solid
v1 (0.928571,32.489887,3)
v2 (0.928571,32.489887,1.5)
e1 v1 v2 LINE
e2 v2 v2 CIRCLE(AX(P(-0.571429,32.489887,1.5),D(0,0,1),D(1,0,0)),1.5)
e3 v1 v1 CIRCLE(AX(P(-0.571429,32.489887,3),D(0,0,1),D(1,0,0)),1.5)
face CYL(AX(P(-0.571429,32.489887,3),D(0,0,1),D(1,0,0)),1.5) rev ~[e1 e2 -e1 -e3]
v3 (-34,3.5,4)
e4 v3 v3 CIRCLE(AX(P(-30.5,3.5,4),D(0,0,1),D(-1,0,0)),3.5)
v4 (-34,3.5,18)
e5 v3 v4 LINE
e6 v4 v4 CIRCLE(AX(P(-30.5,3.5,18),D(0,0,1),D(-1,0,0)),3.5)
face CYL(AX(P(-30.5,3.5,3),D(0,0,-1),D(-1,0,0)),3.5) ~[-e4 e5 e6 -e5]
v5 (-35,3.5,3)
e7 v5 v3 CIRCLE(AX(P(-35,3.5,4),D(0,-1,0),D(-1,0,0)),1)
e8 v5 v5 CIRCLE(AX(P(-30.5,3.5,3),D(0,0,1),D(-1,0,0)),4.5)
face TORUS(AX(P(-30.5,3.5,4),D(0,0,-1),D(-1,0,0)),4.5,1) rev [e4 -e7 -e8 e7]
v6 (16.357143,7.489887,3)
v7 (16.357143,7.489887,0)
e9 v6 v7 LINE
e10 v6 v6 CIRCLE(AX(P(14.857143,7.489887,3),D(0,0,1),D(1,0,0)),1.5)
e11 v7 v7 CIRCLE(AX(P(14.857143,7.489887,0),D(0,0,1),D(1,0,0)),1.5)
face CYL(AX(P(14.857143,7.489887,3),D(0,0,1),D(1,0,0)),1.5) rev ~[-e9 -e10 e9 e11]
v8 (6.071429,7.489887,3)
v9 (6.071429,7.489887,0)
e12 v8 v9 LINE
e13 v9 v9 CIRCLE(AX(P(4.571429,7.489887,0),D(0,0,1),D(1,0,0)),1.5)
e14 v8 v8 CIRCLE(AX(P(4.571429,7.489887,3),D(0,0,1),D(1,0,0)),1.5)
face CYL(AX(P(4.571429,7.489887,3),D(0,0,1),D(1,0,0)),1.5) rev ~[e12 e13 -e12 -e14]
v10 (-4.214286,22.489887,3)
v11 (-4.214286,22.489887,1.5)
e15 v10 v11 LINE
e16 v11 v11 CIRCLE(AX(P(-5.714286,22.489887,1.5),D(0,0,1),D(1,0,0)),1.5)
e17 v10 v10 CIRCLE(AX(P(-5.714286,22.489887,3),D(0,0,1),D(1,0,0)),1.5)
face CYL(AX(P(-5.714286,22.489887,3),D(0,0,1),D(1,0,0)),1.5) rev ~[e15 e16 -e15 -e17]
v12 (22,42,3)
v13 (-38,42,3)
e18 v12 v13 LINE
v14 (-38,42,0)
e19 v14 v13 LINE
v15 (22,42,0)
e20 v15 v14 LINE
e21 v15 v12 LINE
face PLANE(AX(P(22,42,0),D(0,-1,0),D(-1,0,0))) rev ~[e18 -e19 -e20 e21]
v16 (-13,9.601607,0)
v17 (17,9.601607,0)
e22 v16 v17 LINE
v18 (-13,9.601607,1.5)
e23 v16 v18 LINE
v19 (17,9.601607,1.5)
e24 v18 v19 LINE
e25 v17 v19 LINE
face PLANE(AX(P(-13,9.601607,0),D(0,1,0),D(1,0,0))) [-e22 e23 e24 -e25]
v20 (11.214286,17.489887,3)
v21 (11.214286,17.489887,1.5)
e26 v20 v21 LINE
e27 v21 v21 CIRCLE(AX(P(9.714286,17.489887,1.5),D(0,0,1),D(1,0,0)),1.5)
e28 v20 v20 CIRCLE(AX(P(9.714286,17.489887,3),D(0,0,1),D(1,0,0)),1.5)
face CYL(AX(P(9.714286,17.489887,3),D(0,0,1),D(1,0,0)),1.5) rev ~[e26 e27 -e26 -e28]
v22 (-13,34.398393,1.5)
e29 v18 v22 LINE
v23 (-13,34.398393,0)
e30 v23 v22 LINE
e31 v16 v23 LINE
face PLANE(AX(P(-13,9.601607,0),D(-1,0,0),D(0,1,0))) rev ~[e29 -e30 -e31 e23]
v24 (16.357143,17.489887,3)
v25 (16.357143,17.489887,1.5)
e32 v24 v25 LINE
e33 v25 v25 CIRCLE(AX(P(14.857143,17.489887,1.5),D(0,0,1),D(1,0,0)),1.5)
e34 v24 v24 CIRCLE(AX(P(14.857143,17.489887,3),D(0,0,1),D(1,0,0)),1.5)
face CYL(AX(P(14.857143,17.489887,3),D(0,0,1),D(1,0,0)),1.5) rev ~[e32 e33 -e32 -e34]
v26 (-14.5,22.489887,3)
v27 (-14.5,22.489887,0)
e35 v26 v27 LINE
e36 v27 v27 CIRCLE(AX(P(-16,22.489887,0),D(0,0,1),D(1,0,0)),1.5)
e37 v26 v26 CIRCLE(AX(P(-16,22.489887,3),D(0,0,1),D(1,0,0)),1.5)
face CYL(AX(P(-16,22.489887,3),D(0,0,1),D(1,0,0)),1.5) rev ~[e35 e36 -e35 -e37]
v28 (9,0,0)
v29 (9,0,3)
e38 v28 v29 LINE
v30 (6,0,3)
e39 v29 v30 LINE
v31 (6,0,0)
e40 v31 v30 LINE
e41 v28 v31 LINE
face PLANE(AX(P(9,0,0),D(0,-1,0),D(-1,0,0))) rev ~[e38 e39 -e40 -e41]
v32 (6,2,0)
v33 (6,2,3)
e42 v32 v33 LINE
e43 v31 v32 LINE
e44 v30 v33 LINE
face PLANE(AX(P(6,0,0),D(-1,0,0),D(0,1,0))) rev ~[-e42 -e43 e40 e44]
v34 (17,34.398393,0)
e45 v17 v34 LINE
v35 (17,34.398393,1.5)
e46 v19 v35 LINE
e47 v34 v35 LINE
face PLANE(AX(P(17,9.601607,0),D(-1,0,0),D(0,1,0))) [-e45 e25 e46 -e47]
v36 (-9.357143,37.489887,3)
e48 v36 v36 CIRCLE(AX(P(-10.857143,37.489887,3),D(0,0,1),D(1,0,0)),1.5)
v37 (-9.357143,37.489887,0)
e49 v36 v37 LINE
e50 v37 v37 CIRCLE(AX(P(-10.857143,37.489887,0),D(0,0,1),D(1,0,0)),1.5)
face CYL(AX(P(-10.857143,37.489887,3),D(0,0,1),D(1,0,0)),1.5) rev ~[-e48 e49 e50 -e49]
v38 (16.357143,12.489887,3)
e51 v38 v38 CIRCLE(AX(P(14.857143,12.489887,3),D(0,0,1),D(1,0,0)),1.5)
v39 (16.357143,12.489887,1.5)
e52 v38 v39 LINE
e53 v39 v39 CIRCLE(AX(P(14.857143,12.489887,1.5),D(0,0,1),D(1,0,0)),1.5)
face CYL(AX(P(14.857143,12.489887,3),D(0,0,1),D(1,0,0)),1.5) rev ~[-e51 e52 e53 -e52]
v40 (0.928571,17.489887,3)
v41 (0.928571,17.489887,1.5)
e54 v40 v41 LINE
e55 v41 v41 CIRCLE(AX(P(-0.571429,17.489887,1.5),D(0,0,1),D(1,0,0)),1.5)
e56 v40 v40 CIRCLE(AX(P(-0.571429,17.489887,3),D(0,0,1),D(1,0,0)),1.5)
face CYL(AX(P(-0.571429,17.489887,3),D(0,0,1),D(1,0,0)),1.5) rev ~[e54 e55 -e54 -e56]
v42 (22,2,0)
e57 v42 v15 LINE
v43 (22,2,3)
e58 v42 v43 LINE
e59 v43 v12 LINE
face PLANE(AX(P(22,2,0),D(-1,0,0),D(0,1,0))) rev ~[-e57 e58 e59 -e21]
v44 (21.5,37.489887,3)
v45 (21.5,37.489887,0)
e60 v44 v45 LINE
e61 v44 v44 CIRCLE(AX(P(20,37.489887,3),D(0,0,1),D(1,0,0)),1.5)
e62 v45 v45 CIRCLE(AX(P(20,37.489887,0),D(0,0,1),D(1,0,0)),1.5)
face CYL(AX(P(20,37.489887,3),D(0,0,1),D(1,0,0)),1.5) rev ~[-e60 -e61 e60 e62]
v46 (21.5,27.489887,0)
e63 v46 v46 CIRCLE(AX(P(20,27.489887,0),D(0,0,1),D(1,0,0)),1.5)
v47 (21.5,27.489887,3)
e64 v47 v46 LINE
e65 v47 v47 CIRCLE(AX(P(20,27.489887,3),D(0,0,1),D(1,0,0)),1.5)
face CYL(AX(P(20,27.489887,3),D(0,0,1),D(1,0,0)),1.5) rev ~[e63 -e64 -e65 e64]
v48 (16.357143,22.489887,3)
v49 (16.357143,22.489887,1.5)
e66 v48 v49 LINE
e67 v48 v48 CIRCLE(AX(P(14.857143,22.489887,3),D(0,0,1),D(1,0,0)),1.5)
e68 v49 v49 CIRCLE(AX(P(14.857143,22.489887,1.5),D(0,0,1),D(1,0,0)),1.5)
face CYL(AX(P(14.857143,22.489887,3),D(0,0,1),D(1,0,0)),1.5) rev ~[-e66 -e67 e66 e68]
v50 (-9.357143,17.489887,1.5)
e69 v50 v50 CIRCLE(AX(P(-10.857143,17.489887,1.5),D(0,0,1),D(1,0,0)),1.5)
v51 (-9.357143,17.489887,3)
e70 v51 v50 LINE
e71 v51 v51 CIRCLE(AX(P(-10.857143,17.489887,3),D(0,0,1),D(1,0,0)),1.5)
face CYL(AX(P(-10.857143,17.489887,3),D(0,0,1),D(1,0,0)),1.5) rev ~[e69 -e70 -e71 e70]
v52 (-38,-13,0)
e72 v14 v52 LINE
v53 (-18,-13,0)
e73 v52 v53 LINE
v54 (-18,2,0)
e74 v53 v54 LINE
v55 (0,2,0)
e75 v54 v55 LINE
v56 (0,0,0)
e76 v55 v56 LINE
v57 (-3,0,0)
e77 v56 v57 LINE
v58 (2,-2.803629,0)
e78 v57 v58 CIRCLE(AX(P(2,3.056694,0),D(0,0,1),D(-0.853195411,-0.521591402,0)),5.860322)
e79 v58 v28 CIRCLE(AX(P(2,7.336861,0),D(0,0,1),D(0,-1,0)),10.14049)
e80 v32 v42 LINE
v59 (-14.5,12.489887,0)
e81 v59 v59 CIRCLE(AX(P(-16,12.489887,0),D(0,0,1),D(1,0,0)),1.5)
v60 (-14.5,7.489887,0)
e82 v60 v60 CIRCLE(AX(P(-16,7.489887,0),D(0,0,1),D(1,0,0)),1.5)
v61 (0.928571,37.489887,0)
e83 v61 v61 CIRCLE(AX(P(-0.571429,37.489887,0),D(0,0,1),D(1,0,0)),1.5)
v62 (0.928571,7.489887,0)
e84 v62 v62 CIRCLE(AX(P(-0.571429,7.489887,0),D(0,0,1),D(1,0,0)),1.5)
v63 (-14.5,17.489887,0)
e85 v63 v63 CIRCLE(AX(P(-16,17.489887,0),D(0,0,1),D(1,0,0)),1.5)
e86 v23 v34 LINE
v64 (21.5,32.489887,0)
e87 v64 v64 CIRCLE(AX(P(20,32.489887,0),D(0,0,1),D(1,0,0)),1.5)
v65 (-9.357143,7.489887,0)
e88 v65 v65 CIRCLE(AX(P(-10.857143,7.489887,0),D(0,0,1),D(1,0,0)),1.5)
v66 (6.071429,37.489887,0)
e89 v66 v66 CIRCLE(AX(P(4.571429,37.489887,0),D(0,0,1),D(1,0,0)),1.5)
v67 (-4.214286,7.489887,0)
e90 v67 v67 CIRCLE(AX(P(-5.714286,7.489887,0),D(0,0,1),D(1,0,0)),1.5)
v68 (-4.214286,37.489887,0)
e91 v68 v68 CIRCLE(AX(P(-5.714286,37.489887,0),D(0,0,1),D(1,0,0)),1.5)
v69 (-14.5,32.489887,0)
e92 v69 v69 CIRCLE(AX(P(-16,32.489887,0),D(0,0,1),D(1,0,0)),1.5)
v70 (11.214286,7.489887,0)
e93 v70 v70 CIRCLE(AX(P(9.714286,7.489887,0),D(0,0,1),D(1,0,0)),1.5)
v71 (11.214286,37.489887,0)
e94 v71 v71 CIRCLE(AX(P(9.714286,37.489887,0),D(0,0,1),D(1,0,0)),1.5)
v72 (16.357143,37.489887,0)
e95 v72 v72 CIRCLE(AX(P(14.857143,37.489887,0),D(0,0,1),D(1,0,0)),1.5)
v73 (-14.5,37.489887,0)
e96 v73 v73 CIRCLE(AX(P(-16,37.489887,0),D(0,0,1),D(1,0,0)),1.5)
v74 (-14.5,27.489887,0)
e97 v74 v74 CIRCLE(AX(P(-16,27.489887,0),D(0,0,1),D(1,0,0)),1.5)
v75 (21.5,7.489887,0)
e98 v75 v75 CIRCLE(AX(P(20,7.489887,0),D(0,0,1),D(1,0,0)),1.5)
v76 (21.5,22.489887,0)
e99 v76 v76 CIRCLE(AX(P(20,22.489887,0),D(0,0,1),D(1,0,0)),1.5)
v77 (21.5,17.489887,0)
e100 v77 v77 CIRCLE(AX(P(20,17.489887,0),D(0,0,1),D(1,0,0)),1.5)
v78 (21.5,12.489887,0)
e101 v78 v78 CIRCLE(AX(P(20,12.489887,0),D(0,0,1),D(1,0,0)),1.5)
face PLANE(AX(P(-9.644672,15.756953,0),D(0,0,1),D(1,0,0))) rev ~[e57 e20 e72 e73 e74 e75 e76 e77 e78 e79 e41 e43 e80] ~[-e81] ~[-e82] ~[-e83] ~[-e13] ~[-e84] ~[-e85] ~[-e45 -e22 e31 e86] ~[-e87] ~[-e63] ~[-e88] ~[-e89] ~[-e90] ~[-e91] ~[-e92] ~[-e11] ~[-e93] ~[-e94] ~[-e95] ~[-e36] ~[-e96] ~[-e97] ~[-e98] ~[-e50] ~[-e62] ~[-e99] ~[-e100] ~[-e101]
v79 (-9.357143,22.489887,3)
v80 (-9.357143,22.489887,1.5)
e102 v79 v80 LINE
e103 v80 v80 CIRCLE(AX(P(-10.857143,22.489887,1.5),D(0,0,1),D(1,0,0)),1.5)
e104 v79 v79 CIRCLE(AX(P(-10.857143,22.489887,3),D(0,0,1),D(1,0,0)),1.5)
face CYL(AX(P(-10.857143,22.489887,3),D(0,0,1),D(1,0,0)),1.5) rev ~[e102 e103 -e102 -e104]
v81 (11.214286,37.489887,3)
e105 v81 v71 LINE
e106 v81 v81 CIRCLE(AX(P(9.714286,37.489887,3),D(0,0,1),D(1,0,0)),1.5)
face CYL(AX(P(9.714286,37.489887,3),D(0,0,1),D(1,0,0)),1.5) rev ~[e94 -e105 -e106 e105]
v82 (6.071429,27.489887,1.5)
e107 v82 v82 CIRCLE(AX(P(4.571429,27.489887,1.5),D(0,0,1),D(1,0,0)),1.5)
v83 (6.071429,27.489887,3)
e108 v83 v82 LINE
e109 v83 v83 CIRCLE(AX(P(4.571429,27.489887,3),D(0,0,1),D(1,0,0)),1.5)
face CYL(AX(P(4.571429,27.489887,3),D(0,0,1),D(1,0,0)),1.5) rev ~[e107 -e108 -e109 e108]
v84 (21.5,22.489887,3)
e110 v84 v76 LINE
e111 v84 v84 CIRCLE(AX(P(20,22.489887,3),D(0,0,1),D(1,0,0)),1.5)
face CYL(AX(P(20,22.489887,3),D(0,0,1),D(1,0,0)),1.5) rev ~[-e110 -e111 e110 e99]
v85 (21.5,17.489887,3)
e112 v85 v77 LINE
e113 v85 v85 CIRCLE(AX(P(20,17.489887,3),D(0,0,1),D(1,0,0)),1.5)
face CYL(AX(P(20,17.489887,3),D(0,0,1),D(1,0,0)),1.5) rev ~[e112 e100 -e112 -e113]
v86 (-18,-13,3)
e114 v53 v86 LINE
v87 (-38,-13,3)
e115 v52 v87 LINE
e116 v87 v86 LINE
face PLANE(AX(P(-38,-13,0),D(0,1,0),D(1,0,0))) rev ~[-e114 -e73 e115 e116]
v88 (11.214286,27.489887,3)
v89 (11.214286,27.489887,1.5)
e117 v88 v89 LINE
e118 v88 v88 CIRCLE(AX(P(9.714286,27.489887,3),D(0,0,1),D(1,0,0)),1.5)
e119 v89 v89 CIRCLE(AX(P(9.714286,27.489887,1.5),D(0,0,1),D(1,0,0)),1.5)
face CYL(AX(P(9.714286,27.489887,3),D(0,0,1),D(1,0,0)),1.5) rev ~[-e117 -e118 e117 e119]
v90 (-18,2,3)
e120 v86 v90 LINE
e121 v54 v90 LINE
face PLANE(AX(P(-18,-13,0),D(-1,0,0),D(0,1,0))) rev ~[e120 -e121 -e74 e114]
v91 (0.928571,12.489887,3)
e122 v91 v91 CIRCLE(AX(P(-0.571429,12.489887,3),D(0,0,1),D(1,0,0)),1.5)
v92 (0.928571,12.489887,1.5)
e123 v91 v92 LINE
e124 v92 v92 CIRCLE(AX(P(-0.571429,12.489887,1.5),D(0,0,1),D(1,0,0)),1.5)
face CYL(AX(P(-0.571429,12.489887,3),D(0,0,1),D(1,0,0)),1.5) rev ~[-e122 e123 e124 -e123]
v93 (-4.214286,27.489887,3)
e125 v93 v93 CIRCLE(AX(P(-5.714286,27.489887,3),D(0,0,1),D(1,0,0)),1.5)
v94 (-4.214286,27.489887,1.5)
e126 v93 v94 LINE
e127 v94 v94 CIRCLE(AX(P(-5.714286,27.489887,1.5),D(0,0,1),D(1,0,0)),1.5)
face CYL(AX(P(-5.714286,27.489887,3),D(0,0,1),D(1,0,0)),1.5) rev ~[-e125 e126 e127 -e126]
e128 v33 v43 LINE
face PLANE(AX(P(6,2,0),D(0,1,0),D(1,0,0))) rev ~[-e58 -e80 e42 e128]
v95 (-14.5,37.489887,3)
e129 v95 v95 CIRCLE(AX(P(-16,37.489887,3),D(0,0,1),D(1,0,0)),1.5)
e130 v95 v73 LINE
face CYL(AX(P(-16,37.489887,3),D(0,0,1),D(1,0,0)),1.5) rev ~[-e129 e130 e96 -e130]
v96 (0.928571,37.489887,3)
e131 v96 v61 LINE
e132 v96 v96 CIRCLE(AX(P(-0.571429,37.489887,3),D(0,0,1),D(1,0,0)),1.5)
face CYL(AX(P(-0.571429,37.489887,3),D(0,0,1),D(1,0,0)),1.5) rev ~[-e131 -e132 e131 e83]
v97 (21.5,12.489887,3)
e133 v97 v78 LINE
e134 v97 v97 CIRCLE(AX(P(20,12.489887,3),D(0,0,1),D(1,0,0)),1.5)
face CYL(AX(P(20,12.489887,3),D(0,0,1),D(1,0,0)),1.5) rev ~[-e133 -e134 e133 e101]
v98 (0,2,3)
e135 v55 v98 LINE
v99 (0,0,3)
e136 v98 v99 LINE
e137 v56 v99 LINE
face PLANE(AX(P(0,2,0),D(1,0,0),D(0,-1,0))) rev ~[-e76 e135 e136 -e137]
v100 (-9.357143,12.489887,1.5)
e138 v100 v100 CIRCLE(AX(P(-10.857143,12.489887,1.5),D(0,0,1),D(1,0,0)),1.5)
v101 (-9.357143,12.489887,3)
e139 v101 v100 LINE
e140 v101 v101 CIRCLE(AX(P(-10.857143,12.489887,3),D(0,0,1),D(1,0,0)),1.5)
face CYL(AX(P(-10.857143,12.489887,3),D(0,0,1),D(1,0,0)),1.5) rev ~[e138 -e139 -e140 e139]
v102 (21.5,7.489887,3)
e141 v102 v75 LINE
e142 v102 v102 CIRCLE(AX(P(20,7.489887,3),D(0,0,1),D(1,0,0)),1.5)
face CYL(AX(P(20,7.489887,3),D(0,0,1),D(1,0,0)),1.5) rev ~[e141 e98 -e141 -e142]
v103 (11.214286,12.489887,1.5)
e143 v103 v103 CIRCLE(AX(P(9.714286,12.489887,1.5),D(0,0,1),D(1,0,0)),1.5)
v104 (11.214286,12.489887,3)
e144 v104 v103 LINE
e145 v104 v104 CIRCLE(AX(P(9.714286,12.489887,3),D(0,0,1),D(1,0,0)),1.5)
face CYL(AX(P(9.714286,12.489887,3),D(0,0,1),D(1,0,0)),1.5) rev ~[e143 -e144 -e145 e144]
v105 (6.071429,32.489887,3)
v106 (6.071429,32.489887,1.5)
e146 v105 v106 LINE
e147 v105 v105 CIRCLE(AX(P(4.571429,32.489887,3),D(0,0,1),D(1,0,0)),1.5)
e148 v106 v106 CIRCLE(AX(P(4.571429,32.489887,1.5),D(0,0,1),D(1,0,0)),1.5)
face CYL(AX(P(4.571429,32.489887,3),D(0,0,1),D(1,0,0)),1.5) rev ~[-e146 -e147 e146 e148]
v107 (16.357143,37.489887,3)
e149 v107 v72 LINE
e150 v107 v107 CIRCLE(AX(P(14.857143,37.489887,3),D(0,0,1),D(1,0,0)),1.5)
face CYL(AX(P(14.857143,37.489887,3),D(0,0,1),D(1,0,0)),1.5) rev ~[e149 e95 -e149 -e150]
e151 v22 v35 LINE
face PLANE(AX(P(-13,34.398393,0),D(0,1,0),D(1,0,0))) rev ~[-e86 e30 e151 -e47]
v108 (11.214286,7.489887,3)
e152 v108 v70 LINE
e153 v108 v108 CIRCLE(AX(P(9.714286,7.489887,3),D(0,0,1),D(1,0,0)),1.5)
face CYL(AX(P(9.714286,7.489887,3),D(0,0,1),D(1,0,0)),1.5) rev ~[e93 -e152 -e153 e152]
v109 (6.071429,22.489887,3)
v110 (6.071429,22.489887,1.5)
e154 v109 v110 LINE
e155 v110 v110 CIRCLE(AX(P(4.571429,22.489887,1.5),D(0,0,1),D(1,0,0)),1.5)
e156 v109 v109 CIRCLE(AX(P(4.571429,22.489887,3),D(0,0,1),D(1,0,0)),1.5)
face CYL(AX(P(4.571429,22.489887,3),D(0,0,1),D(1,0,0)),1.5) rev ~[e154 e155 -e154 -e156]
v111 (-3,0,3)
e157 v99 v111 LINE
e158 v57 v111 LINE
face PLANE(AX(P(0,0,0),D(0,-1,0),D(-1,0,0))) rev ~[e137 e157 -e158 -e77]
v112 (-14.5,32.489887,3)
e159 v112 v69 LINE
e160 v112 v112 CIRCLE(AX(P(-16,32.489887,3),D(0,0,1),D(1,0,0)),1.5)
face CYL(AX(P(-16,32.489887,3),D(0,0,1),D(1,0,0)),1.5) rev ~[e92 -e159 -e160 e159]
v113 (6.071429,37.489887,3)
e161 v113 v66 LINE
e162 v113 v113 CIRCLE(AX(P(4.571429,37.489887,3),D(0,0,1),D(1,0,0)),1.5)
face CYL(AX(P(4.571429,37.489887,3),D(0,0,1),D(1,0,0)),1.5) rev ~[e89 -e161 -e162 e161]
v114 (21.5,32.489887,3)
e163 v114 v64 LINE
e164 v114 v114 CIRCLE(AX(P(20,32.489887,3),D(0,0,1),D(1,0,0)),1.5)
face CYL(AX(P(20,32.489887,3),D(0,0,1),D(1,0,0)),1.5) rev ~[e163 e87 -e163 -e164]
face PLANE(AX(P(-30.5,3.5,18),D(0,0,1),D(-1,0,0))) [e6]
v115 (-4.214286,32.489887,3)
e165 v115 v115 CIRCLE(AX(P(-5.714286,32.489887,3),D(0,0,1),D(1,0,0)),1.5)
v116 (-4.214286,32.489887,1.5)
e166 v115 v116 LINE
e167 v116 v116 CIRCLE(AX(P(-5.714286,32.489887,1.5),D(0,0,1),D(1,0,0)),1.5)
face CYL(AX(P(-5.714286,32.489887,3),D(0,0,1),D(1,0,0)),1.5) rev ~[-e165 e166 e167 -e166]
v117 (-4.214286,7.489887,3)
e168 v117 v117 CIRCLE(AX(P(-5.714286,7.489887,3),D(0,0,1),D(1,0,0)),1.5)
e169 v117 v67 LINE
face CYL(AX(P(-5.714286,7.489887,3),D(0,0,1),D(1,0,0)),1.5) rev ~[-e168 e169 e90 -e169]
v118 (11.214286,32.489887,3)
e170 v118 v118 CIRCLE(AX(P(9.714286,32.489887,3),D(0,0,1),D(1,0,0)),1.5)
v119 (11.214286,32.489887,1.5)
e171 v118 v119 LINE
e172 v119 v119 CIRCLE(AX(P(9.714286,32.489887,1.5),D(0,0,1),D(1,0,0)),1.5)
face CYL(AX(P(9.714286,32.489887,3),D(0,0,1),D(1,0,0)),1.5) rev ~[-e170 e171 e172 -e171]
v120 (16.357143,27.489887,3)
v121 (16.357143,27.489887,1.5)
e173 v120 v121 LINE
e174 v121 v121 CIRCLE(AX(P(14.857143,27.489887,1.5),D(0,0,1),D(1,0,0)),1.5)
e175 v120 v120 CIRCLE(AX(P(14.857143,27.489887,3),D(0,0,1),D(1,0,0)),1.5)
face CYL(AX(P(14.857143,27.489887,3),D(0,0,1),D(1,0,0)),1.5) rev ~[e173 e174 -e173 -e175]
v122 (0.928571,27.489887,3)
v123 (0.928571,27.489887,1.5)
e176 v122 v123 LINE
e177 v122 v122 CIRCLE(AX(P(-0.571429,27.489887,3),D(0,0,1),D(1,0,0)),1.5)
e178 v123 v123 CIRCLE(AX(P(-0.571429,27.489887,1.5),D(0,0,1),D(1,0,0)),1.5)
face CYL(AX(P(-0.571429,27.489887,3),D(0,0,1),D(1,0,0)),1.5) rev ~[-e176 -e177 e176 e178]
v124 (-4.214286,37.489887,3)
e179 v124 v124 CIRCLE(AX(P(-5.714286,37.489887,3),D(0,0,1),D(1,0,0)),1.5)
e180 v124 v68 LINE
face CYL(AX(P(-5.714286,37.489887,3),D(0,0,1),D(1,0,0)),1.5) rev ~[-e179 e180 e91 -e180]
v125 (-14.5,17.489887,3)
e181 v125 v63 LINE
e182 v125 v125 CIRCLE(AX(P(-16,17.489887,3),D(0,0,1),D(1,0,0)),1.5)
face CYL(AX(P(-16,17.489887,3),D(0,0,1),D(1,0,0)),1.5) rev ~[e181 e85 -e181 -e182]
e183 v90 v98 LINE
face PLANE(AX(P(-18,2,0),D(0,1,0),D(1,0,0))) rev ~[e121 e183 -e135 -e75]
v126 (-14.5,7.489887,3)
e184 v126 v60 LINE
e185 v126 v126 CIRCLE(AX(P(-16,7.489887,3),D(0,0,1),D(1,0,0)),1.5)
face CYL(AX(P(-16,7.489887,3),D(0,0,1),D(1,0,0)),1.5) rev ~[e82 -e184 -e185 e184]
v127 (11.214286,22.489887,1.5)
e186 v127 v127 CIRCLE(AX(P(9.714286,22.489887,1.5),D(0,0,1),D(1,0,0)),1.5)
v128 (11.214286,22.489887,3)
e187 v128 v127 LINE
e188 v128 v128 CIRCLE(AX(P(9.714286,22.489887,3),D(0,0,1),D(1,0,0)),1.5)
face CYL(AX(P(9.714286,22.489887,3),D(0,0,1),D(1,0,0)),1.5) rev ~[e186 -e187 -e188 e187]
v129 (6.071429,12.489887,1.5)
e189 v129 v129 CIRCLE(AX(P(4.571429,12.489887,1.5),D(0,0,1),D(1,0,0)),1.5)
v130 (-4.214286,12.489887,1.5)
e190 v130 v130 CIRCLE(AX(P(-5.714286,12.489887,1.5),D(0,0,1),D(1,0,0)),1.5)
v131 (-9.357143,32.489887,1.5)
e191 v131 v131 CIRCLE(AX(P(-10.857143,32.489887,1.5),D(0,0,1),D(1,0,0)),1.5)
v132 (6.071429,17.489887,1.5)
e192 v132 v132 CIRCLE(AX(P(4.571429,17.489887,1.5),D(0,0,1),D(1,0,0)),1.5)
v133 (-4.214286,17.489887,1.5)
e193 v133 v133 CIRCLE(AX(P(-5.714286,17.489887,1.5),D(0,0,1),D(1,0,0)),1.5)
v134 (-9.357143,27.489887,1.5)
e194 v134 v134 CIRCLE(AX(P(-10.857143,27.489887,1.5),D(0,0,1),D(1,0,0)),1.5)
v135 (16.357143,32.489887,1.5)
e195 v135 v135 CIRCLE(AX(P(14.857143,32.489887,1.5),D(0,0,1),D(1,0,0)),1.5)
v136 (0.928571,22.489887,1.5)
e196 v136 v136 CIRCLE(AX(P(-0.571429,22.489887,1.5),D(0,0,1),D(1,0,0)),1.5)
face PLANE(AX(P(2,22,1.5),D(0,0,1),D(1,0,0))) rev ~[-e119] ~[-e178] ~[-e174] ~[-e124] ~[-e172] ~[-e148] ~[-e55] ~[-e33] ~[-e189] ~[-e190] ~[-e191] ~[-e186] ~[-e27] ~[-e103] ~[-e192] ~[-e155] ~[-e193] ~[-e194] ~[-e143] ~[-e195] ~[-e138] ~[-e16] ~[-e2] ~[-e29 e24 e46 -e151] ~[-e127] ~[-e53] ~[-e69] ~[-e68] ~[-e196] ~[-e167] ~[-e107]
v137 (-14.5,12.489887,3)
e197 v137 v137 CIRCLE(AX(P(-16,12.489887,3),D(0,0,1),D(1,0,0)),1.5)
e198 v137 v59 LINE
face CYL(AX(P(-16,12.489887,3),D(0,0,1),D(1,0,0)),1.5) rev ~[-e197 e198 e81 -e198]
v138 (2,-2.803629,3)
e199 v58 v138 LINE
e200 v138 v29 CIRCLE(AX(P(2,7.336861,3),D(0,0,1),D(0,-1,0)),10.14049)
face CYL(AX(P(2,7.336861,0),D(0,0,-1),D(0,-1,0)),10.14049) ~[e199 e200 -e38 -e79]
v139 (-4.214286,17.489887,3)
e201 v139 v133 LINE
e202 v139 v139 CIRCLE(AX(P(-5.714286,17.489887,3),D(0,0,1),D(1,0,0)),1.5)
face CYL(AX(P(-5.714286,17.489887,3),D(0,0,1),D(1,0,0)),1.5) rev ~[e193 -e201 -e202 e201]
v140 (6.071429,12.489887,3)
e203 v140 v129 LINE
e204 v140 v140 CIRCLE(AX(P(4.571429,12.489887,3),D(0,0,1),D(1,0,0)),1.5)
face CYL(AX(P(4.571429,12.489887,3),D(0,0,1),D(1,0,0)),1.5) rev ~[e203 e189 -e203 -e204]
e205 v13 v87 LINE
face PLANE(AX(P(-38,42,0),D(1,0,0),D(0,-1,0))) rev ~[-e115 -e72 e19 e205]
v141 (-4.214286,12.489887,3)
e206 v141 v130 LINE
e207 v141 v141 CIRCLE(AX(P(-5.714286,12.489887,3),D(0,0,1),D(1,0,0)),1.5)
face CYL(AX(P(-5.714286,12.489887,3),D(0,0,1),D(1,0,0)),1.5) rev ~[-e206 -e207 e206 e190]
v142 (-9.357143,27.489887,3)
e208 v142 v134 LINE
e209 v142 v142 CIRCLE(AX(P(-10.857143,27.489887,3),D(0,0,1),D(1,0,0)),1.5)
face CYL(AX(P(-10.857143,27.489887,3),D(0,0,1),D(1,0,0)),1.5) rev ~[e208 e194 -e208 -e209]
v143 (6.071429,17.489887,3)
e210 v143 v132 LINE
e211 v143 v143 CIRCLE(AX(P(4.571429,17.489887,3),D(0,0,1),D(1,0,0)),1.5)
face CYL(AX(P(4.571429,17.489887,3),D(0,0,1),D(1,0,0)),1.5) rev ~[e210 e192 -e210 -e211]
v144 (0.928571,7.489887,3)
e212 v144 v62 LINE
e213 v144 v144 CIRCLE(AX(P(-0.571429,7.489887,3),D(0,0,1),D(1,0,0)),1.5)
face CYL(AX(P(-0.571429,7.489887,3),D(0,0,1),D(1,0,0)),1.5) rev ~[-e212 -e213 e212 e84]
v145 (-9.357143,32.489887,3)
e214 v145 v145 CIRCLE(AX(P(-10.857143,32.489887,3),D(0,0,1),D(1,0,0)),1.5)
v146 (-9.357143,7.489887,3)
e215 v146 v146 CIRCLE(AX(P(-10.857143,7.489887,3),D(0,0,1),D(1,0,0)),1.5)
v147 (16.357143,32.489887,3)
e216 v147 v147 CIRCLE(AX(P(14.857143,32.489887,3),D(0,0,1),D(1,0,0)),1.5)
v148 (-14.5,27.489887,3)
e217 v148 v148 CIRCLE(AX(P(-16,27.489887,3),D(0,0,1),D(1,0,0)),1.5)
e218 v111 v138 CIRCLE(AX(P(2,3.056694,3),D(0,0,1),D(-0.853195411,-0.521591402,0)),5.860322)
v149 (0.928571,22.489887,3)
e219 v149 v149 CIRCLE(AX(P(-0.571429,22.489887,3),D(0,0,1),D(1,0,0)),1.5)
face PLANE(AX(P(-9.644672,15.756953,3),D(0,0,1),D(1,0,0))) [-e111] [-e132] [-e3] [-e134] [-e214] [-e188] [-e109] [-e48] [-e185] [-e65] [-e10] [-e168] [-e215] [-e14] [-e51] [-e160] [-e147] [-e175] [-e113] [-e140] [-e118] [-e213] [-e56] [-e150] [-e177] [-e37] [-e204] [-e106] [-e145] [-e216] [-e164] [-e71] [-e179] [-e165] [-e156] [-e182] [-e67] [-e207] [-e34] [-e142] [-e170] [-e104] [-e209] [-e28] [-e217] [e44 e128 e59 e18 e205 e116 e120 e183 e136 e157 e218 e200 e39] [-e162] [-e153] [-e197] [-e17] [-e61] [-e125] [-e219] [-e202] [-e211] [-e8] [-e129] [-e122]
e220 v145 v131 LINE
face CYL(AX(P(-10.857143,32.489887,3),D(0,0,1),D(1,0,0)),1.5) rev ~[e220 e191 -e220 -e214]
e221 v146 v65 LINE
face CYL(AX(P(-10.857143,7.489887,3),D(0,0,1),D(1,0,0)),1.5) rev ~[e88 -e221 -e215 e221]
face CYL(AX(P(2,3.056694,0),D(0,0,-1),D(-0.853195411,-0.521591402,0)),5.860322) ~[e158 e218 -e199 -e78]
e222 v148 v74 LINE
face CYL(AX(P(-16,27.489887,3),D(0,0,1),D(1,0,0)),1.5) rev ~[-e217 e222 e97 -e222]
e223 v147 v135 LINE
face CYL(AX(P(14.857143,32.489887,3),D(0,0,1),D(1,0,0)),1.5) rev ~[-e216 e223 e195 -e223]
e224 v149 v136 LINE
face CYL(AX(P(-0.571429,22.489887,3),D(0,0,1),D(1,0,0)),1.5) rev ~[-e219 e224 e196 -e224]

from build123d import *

# Parameters (mm, degrees)
BOSS_EXTRU_1_DEPTH      = 3
ESQUISSE2_R             = 1.5
ENL_V_MAT_EXTRU_1_DEPTH = 57.71860365
ESQUISSE3_R             = 3.5
BOSS_EXTRU_2_DEPTH      = 15
CONG_1_R                = 1
ESQUISSE4_W             = 30
ESQUISSE4_H             = 24.796786232
ENL_V_MAT_EXTRU_3_DEPTH = 1.5


with BuildPart() as part:
    # Esquisse1 → Boss.-Extru.1 (new body)
    with BuildSketch(Plane.XY):
        with BuildLine():
            Line((-18, 2), (0, 2))
            Line((0, 2), (0, 0))
            Line((0, 0), (-3, 0))
            ThreePointArc((-3, 0), (-0.866196648, -2.054890525), (2, -2.803628523))
            ThreePointArc((2, -2.803628523), (5.770289541, -2.076663576), (9, 0))
            Line((9, 0), (6, 0))
            Line((6, 0), (6, 2))
            Line((6, 2), (22, 2))
            Line((22, 2), (22, 42))
            Line((22, 42), (-18, 42))
            Line((-18, 42), (-38, 42))
            Line((-38, 42), (-38, -13))
            Line((-38, -13), (-18, -13))
            Line((-18, -13), (-18, 2))
        make_face()
    extrude(amount=BOSS_EXTRU_1_DEPTH)

    # Esquisse2 → Enlèv. mat.-Extru.1 (cut, through all)
    with BuildSketch(Plane.XY.offset(3)):
        with Locations((-16, 37.48988726)):
            Circle(ESQUISSE2_R)
        with Locations((-10.857142857, 37.48988726)):
            Circle(ESQUISSE2_R)
        with Locations((-5.714285714, 37.48988726)):
            Circle(ESQUISSE2_R)
        with Locations((-0.571428571, 37.48988726)):
            Circle(ESQUISSE2_R)
        with Locations((4.571428571, 37.48988726)):
            Circle(ESQUISSE2_R)
        with Locations((9.714285714, 37.48988726)):
            Circle(ESQUISSE2_R)
        with Locations((14.857142857, 37.48988726)):
            Circle(ESQUISSE2_R)
        with Locations((20, 37.48988726)):
            Circle(ESQUISSE2_R)
        with Locations((-10.857142857, 32.48988726)):
            Circle(ESQUISSE2_R)
        with Locations((-5.714285714, 32.48988726)):
            Circle(ESQUISSE2_R)
        with Locations((-0.571428571, 32.48988726)):
            Circle(ESQUISSE2_R)
        with Locations((4.571428571, 32.48988726)):
            Circle(ESQUISSE2_R)
        with Locations((9.714285714, 32.48988726)):
            Circle(ESQUISSE2_R)
        with Locations((14.857142857, 32.48988726)):
            Circle(ESQUISSE2_R)
        with Locations((-10.857142857, 27.48988726)):
            Circle(ESQUISSE2_R)
        with Locations((-5.714285714, 27.48988726)):
            Circle(ESQUISSE2_R)
        with Locations((-0.571428571, 27.48988726)):
            Circle(ESQUISSE2_R)
        with Locations((4.571428571, 27.48988726)):
            Circle(ESQUISSE2_R)
        with Locations((9.714285714, 27.48988726)):
            Circle(ESQUISSE2_R)
        with Locations((14.857142857, 27.48988726)):
            Circle(ESQUISSE2_R)
        with Locations((-10.857142857, 22.48988726)):
            Circle(ESQUISSE2_R)
        with Locations((-5.714285714, 22.48988726)):
            Circle(ESQUISSE2_R)
        with Locations((-0.571428571, 22.48988726)):
            Circle(ESQUISSE2_R)
        with Locations((4.571428571, 22.48988726)):
            Circle(ESQUISSE2_R)
        with Locations((9.714285714, 22.48988726)):
            Circle(ESQUISSE2_R)
        with Locations((14.857142857, 22.48988726)):
            Circle(ESQUISSE2_R)
        with Locations((-10.857142857, 17.48988726)):
            Circle(ESQUISSE2_R)
        with Locations((-5.714285714, 17.48988726)):
            Circle(ESQUISSE2_R)
        with Locations((-0.571428571, 17.48988726)):
            Circle(ESQUISSE2_R)
        with Locations((4.571428571, 17.48988726)):
            Circle(ESQUISSE2_R)
        with Locations((9.714285714, 17.48988726)):
            Circle(ESQUISSE2_R)
        with Locations((14.857142857, 17.48988726)):
            Circle(ESQUISSE2_R)
        with Locations((-10.857142857, 12.48988726)):
            Circle(ESQUISSE2_R)
        with Locations((-5.714285714, 12.48988726)):
            Circle(ESQUISSE2_R)
        with Locations((-0.571428571, 12.48988726)):
            Circle(ESQUISSE2_R)
        with Locations((4.571428571, 12.48988726)):
            Circle(ESQUISSE2_R)
        with Locations((9.714285714, 12.48988726)):
            Circle(ESQUISSE2_R)
        with Locations((14.857142857, 12.48988726)):
            Circle(ESQUISSE2_R)
        with Locations((-10.857142857, 7.48988726)):
            Circle(ESQUISSE2_R)
        with Locations((-5.714285714, 7.48988726)):
            Circle(ESQUISSE2_R)
        with Locations((-0.571428571, 7.48988726)):
            Circle(ESQUISSE2_R)
        with Locations((4.571428571, 7.48988726)):
            Circle(ESQUISSE2_R)
        with Locations((9.714285714, 7.48988726)):
            Circle(ESQUISSE2_R)
        with Locations((14.857142857, 7.48988726)):
            Circle(ESQUISSE2_R)
        with Locations((-16, 32.48988726)):
            Circle(ESQUISSE2_R)
        with Locations((-16, 27.48988726)):
            Circle(ESQUISSE2_R)
        with Locations((-16, 22.48988726)):
            Circle(ESQUISSE2_R)
        with Locations((-16, 17.48988726)):
            Circle(ESQUISSE2_R)
        with Locations((-16, 12.48988726)):
            Circle(ESQUISSE2_R)
        with Locations((-16, 7.48988726)):
            Circle(ESQUISSE2_R)
        with Locations((20, 32.48988726)):
            Circle(ESQUISSE2_R)
        with Locations((20, 27.48988726)):
            Circle(ESQUISSE2_R)
        with Locations((20, 22.48988726)):
            Circle(ESQUISSE2_R)
        with Locations((20, 17.48988726)):
            Circle(ESQUISSE2_R)
        with Locations((20, 12.48988726)):
            Circle(ESQUISSE2_R)
        with Locations((20, 7.48988726)):
            Circle(ESQUISSE2_R)
    extrude(amount=-ENL_V_MAT_EXTRU_1_DEPTH, mode=Mode.SUBTRACT)

    # Esquisse3 → Boss.-Extru.2 (add)
    with BuildSketch(Plane.XY.offset(3)):
        with Locations(Location((-30.5, 3.5, 0), (0, 0, 180))):
            Circle(ESQUISSE3_R)
    extrude(amount=BOSS_EXTRU_2_DEPTH)

    # Congé1
    cong_1_edges = [part.edges().sort_by_distance(p)[0] for p in [
        (-27, 3.5, 3),
    ]]
    fillet(cong_1_edges, radius=CONG_1_R)

    # Esquisse4 → Enlèv. mat.-Extru.3 (cut)
    with BuildSketch(Plane.XY):
        with Locations((2, 22)):
            Rectangle(ESQUISSE4_W, ESQUISSE4_H)
    extrude(amount=ENL_V_MAT_EXTRU_3_DEPTH, mode=Mode.SUBTRACT)


solid = part.part
